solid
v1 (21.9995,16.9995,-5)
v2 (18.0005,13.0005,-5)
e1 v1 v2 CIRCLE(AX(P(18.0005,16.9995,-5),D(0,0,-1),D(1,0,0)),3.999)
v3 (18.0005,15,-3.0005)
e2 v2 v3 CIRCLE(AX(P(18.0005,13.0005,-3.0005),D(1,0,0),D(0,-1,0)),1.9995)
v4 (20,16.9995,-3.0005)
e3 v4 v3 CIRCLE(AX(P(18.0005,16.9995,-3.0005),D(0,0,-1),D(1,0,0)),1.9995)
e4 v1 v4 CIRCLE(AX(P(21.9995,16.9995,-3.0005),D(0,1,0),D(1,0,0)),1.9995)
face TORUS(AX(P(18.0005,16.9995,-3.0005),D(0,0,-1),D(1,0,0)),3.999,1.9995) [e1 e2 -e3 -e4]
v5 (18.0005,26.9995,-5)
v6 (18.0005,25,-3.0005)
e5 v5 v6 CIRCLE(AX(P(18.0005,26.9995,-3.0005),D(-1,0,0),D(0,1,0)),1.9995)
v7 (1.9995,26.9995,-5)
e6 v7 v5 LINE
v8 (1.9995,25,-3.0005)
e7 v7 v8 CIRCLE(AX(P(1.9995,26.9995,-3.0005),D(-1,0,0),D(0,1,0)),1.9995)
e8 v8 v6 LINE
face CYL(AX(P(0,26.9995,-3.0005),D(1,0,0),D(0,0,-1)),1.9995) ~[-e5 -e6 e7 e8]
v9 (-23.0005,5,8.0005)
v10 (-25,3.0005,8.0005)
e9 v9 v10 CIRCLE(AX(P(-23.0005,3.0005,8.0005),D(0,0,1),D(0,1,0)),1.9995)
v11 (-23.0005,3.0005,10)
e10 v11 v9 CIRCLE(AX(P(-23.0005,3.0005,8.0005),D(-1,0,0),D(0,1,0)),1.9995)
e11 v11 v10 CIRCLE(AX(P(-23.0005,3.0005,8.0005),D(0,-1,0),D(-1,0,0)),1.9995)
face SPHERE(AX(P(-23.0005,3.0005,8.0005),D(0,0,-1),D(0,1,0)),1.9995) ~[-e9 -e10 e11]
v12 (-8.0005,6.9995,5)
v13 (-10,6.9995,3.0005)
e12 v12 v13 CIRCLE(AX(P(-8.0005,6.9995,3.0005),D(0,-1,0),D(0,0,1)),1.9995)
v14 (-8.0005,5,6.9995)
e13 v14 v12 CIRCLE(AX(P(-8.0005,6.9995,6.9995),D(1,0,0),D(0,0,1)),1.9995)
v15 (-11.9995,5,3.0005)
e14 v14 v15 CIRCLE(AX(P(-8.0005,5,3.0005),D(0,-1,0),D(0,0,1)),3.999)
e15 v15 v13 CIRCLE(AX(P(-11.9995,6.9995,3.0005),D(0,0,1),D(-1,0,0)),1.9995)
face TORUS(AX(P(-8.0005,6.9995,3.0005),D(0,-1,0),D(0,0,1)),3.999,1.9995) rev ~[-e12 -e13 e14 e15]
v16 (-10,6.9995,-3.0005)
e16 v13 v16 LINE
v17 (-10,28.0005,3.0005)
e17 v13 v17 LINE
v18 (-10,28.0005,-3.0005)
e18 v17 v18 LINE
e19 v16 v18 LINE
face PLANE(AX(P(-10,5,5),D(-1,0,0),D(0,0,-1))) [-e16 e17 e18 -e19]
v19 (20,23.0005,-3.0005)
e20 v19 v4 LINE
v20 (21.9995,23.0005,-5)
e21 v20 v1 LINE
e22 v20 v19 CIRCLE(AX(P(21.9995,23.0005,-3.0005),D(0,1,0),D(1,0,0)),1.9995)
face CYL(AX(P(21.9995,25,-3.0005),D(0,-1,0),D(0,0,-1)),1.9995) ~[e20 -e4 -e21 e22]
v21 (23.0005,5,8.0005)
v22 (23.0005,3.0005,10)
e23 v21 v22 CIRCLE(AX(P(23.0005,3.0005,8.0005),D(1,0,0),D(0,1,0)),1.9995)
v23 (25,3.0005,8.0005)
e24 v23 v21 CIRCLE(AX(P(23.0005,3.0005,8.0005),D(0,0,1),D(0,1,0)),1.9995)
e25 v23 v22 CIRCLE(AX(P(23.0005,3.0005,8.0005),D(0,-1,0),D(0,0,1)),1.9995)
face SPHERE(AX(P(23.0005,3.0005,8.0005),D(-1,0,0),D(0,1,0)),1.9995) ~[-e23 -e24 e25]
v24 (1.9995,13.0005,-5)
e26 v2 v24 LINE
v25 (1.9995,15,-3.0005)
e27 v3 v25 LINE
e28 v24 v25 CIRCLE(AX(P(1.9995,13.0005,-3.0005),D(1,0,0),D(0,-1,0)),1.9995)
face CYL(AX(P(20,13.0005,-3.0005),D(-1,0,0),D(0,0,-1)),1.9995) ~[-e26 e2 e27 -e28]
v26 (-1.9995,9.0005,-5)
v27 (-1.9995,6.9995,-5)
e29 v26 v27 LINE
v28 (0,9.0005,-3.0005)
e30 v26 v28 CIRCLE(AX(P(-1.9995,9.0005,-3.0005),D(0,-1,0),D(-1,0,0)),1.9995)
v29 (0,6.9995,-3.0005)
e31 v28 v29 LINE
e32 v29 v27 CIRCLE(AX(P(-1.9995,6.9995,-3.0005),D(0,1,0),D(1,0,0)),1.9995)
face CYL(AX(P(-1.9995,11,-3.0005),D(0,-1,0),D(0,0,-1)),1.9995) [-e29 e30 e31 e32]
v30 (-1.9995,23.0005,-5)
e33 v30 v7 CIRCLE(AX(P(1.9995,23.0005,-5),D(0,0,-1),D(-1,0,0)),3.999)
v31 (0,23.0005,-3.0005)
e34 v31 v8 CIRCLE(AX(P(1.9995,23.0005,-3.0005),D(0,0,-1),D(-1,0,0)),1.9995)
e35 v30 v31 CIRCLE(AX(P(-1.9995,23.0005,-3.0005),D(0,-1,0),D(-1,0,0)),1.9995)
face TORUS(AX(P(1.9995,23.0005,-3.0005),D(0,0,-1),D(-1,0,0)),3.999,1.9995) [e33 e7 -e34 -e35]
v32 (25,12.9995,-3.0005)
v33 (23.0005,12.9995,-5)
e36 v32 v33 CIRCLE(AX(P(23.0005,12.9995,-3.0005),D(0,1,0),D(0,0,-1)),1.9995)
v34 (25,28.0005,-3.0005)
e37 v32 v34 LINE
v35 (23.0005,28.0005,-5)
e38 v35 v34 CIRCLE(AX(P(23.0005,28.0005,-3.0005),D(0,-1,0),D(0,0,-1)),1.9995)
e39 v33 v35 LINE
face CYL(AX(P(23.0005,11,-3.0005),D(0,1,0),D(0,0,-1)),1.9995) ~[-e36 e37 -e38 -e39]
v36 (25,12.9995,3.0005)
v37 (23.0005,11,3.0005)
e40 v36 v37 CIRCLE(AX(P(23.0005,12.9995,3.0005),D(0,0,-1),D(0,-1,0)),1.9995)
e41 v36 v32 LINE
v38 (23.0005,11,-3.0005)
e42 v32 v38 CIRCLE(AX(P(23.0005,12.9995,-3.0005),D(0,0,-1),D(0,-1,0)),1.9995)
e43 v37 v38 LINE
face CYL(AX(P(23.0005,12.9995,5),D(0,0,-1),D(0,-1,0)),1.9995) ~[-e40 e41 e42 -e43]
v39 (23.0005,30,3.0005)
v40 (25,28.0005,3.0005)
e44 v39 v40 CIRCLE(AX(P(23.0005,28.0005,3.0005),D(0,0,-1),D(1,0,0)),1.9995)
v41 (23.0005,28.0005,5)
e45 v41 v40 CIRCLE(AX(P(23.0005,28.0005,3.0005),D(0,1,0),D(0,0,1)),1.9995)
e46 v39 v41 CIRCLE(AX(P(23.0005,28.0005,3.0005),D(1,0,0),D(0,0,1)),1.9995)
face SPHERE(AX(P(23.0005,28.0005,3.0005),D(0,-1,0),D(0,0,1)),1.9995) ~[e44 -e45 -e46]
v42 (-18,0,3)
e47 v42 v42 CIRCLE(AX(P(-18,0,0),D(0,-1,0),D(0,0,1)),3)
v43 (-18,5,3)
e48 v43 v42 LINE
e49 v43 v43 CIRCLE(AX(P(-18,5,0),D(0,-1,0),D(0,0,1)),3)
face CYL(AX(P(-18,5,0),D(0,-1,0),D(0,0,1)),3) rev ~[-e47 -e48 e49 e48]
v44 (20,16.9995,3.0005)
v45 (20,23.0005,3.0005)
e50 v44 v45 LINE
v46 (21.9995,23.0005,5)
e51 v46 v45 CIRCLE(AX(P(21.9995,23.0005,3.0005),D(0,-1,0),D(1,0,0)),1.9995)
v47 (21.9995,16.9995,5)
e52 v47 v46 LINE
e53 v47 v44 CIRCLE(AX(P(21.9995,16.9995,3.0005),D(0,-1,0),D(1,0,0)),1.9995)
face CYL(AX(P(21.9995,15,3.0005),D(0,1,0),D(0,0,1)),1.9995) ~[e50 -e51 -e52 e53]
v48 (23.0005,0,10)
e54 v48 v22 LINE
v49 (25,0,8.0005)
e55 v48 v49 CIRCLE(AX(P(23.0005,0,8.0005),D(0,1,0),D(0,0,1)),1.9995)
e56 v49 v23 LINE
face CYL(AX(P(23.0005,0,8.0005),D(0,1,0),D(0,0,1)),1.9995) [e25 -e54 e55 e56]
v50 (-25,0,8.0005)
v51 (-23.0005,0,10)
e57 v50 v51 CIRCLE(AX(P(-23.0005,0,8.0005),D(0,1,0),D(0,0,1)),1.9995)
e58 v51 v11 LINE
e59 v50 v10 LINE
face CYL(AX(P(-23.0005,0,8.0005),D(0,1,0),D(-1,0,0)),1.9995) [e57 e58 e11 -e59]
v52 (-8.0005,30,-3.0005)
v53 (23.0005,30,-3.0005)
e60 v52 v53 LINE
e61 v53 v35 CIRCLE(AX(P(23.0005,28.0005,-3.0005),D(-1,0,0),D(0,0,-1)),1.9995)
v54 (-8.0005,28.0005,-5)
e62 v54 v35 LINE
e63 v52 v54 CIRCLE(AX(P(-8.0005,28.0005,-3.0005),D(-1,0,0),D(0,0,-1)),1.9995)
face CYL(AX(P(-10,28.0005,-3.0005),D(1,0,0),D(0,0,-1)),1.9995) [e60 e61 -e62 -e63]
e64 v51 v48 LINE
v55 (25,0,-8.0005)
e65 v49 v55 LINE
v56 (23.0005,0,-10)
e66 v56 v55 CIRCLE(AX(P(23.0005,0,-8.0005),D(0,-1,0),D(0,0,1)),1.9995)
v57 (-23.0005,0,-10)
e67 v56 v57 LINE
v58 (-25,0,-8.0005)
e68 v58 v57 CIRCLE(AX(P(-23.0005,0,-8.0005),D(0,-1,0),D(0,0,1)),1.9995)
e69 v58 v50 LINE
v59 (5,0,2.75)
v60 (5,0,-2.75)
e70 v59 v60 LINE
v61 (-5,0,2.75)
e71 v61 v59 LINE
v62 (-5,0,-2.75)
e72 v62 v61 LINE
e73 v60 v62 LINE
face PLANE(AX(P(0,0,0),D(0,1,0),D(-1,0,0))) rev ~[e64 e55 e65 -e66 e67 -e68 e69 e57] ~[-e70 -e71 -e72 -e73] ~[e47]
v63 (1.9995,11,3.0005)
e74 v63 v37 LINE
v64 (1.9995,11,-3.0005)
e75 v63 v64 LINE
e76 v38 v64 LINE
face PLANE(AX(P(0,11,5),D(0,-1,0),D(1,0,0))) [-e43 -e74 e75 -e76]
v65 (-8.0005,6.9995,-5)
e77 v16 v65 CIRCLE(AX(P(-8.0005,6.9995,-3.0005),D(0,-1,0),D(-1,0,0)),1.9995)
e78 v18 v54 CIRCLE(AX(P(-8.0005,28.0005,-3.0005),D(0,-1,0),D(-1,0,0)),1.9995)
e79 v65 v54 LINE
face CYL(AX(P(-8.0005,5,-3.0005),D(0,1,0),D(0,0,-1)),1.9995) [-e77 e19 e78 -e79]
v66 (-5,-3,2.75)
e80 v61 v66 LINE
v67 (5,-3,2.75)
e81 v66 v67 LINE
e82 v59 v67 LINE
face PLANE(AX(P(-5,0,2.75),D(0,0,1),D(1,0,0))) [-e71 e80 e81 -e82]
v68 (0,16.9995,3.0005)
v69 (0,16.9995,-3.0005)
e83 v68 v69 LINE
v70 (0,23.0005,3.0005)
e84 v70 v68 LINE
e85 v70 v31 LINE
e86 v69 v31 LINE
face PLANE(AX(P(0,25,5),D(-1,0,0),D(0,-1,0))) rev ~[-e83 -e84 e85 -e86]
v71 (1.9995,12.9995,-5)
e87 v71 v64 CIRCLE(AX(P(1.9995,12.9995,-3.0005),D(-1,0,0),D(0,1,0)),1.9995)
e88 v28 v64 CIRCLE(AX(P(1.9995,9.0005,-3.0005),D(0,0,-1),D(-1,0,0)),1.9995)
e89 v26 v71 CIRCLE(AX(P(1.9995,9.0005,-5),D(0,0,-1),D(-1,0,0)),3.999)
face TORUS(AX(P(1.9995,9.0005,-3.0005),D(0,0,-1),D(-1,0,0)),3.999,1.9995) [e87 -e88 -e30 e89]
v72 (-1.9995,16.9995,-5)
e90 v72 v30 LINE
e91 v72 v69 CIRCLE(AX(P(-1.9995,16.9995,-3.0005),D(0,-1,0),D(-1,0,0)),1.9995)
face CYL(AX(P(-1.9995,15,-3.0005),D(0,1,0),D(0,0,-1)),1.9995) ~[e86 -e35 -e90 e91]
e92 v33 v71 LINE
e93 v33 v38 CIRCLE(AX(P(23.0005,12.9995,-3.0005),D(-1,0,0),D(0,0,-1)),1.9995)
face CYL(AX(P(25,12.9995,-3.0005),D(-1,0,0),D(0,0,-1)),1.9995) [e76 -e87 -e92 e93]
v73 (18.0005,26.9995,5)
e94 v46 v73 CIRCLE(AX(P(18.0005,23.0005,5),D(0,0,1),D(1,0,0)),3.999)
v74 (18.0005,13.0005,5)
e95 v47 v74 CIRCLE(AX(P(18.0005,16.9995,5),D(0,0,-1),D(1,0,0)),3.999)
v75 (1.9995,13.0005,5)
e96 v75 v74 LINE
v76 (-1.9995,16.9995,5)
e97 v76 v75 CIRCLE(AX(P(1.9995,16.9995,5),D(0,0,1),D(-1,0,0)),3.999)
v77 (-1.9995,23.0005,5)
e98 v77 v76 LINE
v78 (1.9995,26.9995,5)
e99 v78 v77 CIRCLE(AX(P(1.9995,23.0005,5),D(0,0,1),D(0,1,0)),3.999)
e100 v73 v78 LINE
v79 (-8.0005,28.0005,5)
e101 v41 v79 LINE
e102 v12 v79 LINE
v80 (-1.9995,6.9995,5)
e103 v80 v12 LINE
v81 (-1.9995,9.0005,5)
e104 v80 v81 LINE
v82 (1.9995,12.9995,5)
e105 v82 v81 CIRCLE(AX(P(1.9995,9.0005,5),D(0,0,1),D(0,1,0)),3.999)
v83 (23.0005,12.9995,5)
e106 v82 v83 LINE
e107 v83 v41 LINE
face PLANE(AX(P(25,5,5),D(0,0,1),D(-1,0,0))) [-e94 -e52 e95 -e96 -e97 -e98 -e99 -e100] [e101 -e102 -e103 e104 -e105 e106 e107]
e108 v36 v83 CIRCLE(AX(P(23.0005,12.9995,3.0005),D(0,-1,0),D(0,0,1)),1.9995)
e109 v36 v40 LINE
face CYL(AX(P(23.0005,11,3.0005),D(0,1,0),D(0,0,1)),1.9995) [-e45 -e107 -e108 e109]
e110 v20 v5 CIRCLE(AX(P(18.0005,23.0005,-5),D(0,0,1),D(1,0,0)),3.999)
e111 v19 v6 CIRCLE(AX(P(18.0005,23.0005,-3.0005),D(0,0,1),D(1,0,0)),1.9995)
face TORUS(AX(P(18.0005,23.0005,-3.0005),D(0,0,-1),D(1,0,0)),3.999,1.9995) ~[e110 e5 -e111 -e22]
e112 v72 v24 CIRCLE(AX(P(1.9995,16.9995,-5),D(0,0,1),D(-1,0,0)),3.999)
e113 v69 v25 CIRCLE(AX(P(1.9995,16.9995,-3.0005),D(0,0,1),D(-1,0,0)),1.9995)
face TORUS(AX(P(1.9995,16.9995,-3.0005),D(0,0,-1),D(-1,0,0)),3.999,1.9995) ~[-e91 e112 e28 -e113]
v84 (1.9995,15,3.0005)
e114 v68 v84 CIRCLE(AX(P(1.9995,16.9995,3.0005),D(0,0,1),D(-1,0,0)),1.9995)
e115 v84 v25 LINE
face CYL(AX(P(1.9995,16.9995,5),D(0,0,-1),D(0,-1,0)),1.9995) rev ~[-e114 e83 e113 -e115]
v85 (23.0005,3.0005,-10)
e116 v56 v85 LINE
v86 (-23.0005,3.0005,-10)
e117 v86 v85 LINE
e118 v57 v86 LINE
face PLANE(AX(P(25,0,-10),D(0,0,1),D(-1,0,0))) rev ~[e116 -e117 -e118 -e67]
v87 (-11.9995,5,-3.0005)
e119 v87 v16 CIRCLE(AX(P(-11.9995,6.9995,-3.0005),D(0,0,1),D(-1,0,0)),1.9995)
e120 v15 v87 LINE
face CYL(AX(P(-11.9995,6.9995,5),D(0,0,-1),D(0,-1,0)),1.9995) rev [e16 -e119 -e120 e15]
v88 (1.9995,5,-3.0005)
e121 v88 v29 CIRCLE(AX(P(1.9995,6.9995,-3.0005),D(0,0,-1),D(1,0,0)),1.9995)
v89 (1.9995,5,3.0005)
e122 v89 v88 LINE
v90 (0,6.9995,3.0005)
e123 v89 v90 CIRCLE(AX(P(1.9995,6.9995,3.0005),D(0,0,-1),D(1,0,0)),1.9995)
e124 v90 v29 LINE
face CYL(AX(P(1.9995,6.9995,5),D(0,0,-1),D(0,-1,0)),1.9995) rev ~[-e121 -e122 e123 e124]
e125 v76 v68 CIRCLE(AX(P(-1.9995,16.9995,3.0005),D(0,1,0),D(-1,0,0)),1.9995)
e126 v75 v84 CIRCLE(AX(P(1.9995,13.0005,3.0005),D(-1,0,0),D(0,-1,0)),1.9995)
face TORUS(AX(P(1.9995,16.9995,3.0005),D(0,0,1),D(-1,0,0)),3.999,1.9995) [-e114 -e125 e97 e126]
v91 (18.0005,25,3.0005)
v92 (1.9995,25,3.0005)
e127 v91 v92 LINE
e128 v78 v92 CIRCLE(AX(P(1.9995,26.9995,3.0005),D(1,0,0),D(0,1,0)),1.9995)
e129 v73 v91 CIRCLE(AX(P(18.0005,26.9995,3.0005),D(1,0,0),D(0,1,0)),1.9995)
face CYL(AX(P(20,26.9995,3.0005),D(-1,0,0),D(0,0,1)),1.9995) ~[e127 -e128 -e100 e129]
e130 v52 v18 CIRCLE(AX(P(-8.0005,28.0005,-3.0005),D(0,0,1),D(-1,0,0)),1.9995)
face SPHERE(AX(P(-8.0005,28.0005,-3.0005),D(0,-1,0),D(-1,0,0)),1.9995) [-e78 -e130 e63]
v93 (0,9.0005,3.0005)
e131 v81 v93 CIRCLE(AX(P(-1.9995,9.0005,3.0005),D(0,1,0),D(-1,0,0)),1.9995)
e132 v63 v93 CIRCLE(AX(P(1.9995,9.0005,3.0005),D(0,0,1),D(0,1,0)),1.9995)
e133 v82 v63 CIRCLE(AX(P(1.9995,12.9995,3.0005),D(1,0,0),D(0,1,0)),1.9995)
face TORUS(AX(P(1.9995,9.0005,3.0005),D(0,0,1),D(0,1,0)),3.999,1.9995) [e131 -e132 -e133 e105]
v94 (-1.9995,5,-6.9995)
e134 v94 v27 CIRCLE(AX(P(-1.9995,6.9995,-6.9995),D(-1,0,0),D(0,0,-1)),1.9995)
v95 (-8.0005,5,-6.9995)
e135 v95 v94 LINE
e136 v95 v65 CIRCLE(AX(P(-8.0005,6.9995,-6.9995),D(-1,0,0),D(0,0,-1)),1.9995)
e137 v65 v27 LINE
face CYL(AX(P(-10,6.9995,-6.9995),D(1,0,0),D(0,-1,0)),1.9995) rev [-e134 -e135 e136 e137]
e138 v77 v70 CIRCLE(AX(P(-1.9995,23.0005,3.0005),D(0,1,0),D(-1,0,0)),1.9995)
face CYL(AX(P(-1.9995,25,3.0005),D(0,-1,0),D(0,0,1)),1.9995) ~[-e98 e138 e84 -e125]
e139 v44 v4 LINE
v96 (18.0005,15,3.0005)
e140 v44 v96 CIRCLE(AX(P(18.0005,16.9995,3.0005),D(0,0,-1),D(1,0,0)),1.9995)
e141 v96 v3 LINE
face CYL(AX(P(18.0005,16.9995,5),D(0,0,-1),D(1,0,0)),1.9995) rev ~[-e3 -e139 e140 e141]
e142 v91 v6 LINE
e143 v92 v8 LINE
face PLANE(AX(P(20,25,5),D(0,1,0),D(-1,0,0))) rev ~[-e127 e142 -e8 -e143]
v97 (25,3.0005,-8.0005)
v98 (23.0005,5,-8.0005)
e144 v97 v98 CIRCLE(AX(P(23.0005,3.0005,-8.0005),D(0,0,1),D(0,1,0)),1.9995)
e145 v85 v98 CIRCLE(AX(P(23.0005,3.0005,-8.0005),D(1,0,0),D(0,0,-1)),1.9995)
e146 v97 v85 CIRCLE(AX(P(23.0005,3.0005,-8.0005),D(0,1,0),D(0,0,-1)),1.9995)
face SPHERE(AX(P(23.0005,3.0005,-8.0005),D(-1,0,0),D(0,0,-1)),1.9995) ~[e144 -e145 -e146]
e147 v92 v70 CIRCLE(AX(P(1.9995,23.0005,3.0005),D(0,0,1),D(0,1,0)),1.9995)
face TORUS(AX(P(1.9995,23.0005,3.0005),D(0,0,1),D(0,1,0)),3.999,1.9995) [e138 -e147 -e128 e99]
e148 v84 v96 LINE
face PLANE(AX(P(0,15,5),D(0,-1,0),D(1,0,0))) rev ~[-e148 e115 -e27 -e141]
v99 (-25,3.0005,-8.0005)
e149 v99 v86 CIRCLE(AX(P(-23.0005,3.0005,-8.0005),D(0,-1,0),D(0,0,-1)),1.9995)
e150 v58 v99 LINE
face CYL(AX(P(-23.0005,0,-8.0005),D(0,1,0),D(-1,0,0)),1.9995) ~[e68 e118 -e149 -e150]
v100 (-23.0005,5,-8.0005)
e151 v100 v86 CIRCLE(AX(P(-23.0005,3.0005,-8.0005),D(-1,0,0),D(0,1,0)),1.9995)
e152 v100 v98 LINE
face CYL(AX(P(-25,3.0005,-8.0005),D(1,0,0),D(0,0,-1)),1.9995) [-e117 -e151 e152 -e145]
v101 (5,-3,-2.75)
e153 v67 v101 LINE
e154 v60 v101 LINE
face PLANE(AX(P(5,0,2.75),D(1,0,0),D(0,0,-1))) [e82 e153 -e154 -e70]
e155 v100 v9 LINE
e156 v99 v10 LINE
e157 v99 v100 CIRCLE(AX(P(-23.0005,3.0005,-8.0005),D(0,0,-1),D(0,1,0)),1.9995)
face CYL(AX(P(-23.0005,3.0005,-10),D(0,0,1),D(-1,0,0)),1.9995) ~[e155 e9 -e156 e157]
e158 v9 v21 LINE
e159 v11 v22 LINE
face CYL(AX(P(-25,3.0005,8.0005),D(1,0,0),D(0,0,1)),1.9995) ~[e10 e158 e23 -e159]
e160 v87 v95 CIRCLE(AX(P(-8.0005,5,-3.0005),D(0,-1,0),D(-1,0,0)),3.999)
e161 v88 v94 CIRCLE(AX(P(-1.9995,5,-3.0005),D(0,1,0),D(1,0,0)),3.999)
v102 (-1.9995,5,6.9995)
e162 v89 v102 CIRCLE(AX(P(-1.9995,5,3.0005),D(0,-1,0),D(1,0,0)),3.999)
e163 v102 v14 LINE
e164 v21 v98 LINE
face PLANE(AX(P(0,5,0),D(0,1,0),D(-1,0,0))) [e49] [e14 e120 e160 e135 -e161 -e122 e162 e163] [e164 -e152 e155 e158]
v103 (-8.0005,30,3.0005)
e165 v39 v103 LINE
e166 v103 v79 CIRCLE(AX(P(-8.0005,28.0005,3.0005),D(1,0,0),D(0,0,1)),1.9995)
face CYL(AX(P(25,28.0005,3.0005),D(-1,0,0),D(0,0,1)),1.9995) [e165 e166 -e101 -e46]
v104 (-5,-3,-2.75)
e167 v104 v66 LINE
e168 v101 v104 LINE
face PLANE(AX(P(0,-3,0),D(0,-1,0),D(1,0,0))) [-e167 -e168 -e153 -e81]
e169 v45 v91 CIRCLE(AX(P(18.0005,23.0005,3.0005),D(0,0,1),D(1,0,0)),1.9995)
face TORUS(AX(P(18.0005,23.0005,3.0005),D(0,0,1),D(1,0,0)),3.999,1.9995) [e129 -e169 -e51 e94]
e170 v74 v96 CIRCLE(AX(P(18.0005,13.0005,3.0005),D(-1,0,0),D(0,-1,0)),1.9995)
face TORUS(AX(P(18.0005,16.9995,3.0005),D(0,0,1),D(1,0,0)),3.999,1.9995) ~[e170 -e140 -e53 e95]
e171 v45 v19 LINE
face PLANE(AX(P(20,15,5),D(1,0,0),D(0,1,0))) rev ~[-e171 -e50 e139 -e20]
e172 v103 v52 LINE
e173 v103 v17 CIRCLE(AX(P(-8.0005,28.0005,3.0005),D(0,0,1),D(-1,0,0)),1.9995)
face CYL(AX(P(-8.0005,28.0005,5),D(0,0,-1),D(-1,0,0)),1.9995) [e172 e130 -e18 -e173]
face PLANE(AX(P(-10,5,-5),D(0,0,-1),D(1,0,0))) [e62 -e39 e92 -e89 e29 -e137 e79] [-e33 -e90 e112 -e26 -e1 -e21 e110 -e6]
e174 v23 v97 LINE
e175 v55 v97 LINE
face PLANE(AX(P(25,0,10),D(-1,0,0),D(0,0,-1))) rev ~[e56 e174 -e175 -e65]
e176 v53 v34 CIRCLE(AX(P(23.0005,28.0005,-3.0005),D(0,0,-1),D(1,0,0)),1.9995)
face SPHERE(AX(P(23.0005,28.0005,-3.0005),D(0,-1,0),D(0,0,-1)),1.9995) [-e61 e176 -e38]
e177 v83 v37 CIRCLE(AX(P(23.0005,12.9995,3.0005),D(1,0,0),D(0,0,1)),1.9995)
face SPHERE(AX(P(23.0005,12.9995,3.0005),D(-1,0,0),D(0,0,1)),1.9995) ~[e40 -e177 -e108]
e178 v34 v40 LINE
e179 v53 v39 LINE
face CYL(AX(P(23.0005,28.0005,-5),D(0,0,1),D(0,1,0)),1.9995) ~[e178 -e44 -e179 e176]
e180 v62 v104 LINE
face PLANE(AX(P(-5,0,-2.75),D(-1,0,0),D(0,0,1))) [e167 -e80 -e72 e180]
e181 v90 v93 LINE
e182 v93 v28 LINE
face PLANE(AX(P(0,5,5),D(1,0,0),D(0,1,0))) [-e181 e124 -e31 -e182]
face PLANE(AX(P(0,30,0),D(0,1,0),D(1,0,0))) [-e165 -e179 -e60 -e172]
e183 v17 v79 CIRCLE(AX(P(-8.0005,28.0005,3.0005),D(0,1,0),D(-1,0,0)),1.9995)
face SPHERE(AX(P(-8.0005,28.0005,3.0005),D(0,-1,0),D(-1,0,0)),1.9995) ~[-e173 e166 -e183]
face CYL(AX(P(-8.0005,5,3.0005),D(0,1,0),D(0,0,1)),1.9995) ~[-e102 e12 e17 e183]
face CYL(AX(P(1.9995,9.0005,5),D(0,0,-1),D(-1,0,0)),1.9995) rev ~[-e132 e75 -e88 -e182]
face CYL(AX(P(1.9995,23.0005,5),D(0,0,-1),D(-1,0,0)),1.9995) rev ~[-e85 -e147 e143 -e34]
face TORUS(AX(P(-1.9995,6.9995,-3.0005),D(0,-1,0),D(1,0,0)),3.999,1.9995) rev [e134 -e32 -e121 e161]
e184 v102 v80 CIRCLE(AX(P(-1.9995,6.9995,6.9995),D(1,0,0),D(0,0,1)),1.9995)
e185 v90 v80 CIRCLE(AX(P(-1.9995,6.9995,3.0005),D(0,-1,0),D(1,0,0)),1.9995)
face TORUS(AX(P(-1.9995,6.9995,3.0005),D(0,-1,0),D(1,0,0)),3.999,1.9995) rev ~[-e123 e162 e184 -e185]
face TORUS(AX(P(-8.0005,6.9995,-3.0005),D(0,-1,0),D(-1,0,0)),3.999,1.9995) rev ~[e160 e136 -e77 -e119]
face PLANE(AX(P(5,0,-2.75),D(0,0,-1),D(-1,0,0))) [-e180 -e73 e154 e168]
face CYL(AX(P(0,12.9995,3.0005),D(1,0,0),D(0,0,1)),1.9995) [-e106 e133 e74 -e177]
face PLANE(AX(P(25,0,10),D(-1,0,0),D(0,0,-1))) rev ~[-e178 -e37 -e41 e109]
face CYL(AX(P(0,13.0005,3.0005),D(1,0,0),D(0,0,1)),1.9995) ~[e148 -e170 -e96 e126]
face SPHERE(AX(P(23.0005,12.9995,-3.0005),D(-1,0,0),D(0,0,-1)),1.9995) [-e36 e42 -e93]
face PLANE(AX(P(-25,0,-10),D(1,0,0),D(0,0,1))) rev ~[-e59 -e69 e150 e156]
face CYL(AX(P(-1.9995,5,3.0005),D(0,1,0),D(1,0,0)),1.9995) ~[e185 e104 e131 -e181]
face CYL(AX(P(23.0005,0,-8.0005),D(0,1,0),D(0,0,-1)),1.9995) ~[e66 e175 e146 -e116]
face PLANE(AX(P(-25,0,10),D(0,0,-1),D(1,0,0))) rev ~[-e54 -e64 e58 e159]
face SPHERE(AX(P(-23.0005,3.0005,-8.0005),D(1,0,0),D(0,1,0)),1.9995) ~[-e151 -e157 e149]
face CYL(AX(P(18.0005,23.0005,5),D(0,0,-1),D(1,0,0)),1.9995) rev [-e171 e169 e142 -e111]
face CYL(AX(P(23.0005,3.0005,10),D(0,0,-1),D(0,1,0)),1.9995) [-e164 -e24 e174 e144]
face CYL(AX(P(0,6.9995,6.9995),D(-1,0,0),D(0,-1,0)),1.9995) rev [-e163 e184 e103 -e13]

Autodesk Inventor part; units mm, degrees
ref_plane "YZ Plane" through (0, 0, 0) normal (1, 0, 0) x (0, 1, 0)
ref_plane "XZ Plane" through (0, 0, 0) normal (0, 1, 0) x (-1, 0, 0)
ref_plane "XY Plane" through (0, 0, 0) normal (0, 0, 1) x (1, 0, 0)
sketch "スケッチ1" plane through (0, 0, 0) normal (0, 1, 0) x (-1, 0, 0)
  line L0 (25, 10) -> (-25, 10)
  line L1 (-25, 10) -> (-25, -10)
  line L2 (-25, -10) -> (25, -10)
  line L3 (25, -10) -> (25, 10)
  line L4 (25, 10) -> (-25, -10) construction
  line L5 (-25, 10) -> (25, -10) construction
  point P0 (0, 0)
  dimension "d0" = 20
  dimension "d1" = 50
extrude "押し出し1" add sketch "スケッチ1" along normal blind 5
sketch "スケッチ4" plane through (0, 5, 0) normal (0, 1, 0) x (1, 0, 0)
  line L0 (-25, -10) -> (25, -10) projected
  line L1 (-25, 10) -> (-25, -10) projected
  line L2 (25, -10) -> (25, 10) projected
  point P0 (0, 0)
  point P1 (-18, 0)
  dimension "d17" = 10
  dimension "d18" = 7
hole "穴2" at (-18, 5, 0) direction (0, -1, 0) diameter 6 end through all
sketch "スケッチ5" plane through (0, 5, 0) normal (0, 1, 0) x (1, 0, 0)
  line L0 (-10, 5) -> (25, 5)
  line L1 (25, 5) -> (25, -5)
  line L2 (25, -5) -> (-10, -5)
  line L3 (-10, -5) -> (-10, 5)
  line L4 (-25, 10) -> (-25, -10) projected
  point P0 (0, 0)
  dimension "d30" = 10
  dimension "d31" = 35
  dimension "d32" = 5
  dimension "d45" = 15
extrude "押し出し3" add sketch "スケッチ5" along normal blind 25
sketch "スケッチ6" plane through (0, 0, 0) normal (0, -1, 0) x (1, 0, 0)
  line L0 (-5, 2.75) -> (5, 2.75)
  line L1 (5, 2.75) -> (5, -2.75)
  line L2 (5, -2.75) -> (-5, -2.75)
  line L3 (-5, -2.75) -> (-5, 2.75)
  line L4 (-5, 2.75) -> (5, -2.75) construction
  line L5 (5, 2.75) -> (-5, -2.75) construction
  point P0 (0, 0)
  dimension "d35" = 10
  dimension "d36" = 5.5
extrude "押し出し4" add sketch "スケッチ6" along normal blind 3
sketch "スケッチ8" plane through (-10, 30, 5) normal (0, 0, 1) x (1, 0, 0)
  line L0 (10, -19) -> (35, -19)
  line L1 (35, -19) -> (35, -25)
  line L2 (35, -25) -> (10, -25)
  line L3 (10, -25) -> (10, -19)
  line L4 (30, -5) -> (30, -20) projected
  line L5 (35, -25) -> (35, 0) projected
  line L6 (-15, -25) -> (35, -25) projected
  point P0 (10, -30)
  dimension "d47" = 0
  dimension "d48" = 0
  dimension "d49" = 6
  dimension "d58" = 25
extrude "押し出し6" cut sketch "スケッチ8" against normal through all
sketch "スケッチ9" plane through (-10, 30, 5) normal (0, 0, 1) x (1, 0, 0)
  line L0 (30, -5) -> (10, -5)
  line L1 (10, -5) -> (10, -15)
  line L2 (10, -15) -> (30, -15)
  line L3 (30, -15) -> (30, -5)
  line L4 (0, 0) -> (35, 0) projected
  line L5 (35, -19) -> (35, 0) projected
  point P0 (10, -30)
  dimension "d52" = 5
  dimension "d53" = 5
  dimension "d54" = 20
  dimension "d55" = 10
extrude "押し出し7" cut sketch "スケッチ9" against normal through all
fillet "フィレット2" radius 2 38 edges at (-10, 17.5, 5) (10, 15, 5) (10, 15, -5) (12.5, 11, -5) (-10, 17.5, -5) (0, 11, 0) (0, 8, -5) (12.5, 11, 5) (0, 8, 5) (25, 20.5, 5) (25, 20.5, -5) (25, 11, 0) (20, 15, 0) (20, 20, 5) (20, 20, -5) (0, 15, 0) (-10, 30, 0) (0, 25, 0) (0, 20, -5) (7.5, 30, 5) (7.5, 30, -5) (10, 25, -5) (10, 25, 5) (0, 20, 5) (25, 30, 0) (20, 25, 0) (0, 5, 0) (-5, 5, 5) (-10, 5, 0) (-5, 5, -5) (0, 5, -10) (-25, 5, 0) (0, 5, 10) (-25, 2.5, -10) (-25, 2.5, 10) (25, 2.5, -10) (25, 5, 0) (25, 2.5, 10)
properties part number "cable_holder"
